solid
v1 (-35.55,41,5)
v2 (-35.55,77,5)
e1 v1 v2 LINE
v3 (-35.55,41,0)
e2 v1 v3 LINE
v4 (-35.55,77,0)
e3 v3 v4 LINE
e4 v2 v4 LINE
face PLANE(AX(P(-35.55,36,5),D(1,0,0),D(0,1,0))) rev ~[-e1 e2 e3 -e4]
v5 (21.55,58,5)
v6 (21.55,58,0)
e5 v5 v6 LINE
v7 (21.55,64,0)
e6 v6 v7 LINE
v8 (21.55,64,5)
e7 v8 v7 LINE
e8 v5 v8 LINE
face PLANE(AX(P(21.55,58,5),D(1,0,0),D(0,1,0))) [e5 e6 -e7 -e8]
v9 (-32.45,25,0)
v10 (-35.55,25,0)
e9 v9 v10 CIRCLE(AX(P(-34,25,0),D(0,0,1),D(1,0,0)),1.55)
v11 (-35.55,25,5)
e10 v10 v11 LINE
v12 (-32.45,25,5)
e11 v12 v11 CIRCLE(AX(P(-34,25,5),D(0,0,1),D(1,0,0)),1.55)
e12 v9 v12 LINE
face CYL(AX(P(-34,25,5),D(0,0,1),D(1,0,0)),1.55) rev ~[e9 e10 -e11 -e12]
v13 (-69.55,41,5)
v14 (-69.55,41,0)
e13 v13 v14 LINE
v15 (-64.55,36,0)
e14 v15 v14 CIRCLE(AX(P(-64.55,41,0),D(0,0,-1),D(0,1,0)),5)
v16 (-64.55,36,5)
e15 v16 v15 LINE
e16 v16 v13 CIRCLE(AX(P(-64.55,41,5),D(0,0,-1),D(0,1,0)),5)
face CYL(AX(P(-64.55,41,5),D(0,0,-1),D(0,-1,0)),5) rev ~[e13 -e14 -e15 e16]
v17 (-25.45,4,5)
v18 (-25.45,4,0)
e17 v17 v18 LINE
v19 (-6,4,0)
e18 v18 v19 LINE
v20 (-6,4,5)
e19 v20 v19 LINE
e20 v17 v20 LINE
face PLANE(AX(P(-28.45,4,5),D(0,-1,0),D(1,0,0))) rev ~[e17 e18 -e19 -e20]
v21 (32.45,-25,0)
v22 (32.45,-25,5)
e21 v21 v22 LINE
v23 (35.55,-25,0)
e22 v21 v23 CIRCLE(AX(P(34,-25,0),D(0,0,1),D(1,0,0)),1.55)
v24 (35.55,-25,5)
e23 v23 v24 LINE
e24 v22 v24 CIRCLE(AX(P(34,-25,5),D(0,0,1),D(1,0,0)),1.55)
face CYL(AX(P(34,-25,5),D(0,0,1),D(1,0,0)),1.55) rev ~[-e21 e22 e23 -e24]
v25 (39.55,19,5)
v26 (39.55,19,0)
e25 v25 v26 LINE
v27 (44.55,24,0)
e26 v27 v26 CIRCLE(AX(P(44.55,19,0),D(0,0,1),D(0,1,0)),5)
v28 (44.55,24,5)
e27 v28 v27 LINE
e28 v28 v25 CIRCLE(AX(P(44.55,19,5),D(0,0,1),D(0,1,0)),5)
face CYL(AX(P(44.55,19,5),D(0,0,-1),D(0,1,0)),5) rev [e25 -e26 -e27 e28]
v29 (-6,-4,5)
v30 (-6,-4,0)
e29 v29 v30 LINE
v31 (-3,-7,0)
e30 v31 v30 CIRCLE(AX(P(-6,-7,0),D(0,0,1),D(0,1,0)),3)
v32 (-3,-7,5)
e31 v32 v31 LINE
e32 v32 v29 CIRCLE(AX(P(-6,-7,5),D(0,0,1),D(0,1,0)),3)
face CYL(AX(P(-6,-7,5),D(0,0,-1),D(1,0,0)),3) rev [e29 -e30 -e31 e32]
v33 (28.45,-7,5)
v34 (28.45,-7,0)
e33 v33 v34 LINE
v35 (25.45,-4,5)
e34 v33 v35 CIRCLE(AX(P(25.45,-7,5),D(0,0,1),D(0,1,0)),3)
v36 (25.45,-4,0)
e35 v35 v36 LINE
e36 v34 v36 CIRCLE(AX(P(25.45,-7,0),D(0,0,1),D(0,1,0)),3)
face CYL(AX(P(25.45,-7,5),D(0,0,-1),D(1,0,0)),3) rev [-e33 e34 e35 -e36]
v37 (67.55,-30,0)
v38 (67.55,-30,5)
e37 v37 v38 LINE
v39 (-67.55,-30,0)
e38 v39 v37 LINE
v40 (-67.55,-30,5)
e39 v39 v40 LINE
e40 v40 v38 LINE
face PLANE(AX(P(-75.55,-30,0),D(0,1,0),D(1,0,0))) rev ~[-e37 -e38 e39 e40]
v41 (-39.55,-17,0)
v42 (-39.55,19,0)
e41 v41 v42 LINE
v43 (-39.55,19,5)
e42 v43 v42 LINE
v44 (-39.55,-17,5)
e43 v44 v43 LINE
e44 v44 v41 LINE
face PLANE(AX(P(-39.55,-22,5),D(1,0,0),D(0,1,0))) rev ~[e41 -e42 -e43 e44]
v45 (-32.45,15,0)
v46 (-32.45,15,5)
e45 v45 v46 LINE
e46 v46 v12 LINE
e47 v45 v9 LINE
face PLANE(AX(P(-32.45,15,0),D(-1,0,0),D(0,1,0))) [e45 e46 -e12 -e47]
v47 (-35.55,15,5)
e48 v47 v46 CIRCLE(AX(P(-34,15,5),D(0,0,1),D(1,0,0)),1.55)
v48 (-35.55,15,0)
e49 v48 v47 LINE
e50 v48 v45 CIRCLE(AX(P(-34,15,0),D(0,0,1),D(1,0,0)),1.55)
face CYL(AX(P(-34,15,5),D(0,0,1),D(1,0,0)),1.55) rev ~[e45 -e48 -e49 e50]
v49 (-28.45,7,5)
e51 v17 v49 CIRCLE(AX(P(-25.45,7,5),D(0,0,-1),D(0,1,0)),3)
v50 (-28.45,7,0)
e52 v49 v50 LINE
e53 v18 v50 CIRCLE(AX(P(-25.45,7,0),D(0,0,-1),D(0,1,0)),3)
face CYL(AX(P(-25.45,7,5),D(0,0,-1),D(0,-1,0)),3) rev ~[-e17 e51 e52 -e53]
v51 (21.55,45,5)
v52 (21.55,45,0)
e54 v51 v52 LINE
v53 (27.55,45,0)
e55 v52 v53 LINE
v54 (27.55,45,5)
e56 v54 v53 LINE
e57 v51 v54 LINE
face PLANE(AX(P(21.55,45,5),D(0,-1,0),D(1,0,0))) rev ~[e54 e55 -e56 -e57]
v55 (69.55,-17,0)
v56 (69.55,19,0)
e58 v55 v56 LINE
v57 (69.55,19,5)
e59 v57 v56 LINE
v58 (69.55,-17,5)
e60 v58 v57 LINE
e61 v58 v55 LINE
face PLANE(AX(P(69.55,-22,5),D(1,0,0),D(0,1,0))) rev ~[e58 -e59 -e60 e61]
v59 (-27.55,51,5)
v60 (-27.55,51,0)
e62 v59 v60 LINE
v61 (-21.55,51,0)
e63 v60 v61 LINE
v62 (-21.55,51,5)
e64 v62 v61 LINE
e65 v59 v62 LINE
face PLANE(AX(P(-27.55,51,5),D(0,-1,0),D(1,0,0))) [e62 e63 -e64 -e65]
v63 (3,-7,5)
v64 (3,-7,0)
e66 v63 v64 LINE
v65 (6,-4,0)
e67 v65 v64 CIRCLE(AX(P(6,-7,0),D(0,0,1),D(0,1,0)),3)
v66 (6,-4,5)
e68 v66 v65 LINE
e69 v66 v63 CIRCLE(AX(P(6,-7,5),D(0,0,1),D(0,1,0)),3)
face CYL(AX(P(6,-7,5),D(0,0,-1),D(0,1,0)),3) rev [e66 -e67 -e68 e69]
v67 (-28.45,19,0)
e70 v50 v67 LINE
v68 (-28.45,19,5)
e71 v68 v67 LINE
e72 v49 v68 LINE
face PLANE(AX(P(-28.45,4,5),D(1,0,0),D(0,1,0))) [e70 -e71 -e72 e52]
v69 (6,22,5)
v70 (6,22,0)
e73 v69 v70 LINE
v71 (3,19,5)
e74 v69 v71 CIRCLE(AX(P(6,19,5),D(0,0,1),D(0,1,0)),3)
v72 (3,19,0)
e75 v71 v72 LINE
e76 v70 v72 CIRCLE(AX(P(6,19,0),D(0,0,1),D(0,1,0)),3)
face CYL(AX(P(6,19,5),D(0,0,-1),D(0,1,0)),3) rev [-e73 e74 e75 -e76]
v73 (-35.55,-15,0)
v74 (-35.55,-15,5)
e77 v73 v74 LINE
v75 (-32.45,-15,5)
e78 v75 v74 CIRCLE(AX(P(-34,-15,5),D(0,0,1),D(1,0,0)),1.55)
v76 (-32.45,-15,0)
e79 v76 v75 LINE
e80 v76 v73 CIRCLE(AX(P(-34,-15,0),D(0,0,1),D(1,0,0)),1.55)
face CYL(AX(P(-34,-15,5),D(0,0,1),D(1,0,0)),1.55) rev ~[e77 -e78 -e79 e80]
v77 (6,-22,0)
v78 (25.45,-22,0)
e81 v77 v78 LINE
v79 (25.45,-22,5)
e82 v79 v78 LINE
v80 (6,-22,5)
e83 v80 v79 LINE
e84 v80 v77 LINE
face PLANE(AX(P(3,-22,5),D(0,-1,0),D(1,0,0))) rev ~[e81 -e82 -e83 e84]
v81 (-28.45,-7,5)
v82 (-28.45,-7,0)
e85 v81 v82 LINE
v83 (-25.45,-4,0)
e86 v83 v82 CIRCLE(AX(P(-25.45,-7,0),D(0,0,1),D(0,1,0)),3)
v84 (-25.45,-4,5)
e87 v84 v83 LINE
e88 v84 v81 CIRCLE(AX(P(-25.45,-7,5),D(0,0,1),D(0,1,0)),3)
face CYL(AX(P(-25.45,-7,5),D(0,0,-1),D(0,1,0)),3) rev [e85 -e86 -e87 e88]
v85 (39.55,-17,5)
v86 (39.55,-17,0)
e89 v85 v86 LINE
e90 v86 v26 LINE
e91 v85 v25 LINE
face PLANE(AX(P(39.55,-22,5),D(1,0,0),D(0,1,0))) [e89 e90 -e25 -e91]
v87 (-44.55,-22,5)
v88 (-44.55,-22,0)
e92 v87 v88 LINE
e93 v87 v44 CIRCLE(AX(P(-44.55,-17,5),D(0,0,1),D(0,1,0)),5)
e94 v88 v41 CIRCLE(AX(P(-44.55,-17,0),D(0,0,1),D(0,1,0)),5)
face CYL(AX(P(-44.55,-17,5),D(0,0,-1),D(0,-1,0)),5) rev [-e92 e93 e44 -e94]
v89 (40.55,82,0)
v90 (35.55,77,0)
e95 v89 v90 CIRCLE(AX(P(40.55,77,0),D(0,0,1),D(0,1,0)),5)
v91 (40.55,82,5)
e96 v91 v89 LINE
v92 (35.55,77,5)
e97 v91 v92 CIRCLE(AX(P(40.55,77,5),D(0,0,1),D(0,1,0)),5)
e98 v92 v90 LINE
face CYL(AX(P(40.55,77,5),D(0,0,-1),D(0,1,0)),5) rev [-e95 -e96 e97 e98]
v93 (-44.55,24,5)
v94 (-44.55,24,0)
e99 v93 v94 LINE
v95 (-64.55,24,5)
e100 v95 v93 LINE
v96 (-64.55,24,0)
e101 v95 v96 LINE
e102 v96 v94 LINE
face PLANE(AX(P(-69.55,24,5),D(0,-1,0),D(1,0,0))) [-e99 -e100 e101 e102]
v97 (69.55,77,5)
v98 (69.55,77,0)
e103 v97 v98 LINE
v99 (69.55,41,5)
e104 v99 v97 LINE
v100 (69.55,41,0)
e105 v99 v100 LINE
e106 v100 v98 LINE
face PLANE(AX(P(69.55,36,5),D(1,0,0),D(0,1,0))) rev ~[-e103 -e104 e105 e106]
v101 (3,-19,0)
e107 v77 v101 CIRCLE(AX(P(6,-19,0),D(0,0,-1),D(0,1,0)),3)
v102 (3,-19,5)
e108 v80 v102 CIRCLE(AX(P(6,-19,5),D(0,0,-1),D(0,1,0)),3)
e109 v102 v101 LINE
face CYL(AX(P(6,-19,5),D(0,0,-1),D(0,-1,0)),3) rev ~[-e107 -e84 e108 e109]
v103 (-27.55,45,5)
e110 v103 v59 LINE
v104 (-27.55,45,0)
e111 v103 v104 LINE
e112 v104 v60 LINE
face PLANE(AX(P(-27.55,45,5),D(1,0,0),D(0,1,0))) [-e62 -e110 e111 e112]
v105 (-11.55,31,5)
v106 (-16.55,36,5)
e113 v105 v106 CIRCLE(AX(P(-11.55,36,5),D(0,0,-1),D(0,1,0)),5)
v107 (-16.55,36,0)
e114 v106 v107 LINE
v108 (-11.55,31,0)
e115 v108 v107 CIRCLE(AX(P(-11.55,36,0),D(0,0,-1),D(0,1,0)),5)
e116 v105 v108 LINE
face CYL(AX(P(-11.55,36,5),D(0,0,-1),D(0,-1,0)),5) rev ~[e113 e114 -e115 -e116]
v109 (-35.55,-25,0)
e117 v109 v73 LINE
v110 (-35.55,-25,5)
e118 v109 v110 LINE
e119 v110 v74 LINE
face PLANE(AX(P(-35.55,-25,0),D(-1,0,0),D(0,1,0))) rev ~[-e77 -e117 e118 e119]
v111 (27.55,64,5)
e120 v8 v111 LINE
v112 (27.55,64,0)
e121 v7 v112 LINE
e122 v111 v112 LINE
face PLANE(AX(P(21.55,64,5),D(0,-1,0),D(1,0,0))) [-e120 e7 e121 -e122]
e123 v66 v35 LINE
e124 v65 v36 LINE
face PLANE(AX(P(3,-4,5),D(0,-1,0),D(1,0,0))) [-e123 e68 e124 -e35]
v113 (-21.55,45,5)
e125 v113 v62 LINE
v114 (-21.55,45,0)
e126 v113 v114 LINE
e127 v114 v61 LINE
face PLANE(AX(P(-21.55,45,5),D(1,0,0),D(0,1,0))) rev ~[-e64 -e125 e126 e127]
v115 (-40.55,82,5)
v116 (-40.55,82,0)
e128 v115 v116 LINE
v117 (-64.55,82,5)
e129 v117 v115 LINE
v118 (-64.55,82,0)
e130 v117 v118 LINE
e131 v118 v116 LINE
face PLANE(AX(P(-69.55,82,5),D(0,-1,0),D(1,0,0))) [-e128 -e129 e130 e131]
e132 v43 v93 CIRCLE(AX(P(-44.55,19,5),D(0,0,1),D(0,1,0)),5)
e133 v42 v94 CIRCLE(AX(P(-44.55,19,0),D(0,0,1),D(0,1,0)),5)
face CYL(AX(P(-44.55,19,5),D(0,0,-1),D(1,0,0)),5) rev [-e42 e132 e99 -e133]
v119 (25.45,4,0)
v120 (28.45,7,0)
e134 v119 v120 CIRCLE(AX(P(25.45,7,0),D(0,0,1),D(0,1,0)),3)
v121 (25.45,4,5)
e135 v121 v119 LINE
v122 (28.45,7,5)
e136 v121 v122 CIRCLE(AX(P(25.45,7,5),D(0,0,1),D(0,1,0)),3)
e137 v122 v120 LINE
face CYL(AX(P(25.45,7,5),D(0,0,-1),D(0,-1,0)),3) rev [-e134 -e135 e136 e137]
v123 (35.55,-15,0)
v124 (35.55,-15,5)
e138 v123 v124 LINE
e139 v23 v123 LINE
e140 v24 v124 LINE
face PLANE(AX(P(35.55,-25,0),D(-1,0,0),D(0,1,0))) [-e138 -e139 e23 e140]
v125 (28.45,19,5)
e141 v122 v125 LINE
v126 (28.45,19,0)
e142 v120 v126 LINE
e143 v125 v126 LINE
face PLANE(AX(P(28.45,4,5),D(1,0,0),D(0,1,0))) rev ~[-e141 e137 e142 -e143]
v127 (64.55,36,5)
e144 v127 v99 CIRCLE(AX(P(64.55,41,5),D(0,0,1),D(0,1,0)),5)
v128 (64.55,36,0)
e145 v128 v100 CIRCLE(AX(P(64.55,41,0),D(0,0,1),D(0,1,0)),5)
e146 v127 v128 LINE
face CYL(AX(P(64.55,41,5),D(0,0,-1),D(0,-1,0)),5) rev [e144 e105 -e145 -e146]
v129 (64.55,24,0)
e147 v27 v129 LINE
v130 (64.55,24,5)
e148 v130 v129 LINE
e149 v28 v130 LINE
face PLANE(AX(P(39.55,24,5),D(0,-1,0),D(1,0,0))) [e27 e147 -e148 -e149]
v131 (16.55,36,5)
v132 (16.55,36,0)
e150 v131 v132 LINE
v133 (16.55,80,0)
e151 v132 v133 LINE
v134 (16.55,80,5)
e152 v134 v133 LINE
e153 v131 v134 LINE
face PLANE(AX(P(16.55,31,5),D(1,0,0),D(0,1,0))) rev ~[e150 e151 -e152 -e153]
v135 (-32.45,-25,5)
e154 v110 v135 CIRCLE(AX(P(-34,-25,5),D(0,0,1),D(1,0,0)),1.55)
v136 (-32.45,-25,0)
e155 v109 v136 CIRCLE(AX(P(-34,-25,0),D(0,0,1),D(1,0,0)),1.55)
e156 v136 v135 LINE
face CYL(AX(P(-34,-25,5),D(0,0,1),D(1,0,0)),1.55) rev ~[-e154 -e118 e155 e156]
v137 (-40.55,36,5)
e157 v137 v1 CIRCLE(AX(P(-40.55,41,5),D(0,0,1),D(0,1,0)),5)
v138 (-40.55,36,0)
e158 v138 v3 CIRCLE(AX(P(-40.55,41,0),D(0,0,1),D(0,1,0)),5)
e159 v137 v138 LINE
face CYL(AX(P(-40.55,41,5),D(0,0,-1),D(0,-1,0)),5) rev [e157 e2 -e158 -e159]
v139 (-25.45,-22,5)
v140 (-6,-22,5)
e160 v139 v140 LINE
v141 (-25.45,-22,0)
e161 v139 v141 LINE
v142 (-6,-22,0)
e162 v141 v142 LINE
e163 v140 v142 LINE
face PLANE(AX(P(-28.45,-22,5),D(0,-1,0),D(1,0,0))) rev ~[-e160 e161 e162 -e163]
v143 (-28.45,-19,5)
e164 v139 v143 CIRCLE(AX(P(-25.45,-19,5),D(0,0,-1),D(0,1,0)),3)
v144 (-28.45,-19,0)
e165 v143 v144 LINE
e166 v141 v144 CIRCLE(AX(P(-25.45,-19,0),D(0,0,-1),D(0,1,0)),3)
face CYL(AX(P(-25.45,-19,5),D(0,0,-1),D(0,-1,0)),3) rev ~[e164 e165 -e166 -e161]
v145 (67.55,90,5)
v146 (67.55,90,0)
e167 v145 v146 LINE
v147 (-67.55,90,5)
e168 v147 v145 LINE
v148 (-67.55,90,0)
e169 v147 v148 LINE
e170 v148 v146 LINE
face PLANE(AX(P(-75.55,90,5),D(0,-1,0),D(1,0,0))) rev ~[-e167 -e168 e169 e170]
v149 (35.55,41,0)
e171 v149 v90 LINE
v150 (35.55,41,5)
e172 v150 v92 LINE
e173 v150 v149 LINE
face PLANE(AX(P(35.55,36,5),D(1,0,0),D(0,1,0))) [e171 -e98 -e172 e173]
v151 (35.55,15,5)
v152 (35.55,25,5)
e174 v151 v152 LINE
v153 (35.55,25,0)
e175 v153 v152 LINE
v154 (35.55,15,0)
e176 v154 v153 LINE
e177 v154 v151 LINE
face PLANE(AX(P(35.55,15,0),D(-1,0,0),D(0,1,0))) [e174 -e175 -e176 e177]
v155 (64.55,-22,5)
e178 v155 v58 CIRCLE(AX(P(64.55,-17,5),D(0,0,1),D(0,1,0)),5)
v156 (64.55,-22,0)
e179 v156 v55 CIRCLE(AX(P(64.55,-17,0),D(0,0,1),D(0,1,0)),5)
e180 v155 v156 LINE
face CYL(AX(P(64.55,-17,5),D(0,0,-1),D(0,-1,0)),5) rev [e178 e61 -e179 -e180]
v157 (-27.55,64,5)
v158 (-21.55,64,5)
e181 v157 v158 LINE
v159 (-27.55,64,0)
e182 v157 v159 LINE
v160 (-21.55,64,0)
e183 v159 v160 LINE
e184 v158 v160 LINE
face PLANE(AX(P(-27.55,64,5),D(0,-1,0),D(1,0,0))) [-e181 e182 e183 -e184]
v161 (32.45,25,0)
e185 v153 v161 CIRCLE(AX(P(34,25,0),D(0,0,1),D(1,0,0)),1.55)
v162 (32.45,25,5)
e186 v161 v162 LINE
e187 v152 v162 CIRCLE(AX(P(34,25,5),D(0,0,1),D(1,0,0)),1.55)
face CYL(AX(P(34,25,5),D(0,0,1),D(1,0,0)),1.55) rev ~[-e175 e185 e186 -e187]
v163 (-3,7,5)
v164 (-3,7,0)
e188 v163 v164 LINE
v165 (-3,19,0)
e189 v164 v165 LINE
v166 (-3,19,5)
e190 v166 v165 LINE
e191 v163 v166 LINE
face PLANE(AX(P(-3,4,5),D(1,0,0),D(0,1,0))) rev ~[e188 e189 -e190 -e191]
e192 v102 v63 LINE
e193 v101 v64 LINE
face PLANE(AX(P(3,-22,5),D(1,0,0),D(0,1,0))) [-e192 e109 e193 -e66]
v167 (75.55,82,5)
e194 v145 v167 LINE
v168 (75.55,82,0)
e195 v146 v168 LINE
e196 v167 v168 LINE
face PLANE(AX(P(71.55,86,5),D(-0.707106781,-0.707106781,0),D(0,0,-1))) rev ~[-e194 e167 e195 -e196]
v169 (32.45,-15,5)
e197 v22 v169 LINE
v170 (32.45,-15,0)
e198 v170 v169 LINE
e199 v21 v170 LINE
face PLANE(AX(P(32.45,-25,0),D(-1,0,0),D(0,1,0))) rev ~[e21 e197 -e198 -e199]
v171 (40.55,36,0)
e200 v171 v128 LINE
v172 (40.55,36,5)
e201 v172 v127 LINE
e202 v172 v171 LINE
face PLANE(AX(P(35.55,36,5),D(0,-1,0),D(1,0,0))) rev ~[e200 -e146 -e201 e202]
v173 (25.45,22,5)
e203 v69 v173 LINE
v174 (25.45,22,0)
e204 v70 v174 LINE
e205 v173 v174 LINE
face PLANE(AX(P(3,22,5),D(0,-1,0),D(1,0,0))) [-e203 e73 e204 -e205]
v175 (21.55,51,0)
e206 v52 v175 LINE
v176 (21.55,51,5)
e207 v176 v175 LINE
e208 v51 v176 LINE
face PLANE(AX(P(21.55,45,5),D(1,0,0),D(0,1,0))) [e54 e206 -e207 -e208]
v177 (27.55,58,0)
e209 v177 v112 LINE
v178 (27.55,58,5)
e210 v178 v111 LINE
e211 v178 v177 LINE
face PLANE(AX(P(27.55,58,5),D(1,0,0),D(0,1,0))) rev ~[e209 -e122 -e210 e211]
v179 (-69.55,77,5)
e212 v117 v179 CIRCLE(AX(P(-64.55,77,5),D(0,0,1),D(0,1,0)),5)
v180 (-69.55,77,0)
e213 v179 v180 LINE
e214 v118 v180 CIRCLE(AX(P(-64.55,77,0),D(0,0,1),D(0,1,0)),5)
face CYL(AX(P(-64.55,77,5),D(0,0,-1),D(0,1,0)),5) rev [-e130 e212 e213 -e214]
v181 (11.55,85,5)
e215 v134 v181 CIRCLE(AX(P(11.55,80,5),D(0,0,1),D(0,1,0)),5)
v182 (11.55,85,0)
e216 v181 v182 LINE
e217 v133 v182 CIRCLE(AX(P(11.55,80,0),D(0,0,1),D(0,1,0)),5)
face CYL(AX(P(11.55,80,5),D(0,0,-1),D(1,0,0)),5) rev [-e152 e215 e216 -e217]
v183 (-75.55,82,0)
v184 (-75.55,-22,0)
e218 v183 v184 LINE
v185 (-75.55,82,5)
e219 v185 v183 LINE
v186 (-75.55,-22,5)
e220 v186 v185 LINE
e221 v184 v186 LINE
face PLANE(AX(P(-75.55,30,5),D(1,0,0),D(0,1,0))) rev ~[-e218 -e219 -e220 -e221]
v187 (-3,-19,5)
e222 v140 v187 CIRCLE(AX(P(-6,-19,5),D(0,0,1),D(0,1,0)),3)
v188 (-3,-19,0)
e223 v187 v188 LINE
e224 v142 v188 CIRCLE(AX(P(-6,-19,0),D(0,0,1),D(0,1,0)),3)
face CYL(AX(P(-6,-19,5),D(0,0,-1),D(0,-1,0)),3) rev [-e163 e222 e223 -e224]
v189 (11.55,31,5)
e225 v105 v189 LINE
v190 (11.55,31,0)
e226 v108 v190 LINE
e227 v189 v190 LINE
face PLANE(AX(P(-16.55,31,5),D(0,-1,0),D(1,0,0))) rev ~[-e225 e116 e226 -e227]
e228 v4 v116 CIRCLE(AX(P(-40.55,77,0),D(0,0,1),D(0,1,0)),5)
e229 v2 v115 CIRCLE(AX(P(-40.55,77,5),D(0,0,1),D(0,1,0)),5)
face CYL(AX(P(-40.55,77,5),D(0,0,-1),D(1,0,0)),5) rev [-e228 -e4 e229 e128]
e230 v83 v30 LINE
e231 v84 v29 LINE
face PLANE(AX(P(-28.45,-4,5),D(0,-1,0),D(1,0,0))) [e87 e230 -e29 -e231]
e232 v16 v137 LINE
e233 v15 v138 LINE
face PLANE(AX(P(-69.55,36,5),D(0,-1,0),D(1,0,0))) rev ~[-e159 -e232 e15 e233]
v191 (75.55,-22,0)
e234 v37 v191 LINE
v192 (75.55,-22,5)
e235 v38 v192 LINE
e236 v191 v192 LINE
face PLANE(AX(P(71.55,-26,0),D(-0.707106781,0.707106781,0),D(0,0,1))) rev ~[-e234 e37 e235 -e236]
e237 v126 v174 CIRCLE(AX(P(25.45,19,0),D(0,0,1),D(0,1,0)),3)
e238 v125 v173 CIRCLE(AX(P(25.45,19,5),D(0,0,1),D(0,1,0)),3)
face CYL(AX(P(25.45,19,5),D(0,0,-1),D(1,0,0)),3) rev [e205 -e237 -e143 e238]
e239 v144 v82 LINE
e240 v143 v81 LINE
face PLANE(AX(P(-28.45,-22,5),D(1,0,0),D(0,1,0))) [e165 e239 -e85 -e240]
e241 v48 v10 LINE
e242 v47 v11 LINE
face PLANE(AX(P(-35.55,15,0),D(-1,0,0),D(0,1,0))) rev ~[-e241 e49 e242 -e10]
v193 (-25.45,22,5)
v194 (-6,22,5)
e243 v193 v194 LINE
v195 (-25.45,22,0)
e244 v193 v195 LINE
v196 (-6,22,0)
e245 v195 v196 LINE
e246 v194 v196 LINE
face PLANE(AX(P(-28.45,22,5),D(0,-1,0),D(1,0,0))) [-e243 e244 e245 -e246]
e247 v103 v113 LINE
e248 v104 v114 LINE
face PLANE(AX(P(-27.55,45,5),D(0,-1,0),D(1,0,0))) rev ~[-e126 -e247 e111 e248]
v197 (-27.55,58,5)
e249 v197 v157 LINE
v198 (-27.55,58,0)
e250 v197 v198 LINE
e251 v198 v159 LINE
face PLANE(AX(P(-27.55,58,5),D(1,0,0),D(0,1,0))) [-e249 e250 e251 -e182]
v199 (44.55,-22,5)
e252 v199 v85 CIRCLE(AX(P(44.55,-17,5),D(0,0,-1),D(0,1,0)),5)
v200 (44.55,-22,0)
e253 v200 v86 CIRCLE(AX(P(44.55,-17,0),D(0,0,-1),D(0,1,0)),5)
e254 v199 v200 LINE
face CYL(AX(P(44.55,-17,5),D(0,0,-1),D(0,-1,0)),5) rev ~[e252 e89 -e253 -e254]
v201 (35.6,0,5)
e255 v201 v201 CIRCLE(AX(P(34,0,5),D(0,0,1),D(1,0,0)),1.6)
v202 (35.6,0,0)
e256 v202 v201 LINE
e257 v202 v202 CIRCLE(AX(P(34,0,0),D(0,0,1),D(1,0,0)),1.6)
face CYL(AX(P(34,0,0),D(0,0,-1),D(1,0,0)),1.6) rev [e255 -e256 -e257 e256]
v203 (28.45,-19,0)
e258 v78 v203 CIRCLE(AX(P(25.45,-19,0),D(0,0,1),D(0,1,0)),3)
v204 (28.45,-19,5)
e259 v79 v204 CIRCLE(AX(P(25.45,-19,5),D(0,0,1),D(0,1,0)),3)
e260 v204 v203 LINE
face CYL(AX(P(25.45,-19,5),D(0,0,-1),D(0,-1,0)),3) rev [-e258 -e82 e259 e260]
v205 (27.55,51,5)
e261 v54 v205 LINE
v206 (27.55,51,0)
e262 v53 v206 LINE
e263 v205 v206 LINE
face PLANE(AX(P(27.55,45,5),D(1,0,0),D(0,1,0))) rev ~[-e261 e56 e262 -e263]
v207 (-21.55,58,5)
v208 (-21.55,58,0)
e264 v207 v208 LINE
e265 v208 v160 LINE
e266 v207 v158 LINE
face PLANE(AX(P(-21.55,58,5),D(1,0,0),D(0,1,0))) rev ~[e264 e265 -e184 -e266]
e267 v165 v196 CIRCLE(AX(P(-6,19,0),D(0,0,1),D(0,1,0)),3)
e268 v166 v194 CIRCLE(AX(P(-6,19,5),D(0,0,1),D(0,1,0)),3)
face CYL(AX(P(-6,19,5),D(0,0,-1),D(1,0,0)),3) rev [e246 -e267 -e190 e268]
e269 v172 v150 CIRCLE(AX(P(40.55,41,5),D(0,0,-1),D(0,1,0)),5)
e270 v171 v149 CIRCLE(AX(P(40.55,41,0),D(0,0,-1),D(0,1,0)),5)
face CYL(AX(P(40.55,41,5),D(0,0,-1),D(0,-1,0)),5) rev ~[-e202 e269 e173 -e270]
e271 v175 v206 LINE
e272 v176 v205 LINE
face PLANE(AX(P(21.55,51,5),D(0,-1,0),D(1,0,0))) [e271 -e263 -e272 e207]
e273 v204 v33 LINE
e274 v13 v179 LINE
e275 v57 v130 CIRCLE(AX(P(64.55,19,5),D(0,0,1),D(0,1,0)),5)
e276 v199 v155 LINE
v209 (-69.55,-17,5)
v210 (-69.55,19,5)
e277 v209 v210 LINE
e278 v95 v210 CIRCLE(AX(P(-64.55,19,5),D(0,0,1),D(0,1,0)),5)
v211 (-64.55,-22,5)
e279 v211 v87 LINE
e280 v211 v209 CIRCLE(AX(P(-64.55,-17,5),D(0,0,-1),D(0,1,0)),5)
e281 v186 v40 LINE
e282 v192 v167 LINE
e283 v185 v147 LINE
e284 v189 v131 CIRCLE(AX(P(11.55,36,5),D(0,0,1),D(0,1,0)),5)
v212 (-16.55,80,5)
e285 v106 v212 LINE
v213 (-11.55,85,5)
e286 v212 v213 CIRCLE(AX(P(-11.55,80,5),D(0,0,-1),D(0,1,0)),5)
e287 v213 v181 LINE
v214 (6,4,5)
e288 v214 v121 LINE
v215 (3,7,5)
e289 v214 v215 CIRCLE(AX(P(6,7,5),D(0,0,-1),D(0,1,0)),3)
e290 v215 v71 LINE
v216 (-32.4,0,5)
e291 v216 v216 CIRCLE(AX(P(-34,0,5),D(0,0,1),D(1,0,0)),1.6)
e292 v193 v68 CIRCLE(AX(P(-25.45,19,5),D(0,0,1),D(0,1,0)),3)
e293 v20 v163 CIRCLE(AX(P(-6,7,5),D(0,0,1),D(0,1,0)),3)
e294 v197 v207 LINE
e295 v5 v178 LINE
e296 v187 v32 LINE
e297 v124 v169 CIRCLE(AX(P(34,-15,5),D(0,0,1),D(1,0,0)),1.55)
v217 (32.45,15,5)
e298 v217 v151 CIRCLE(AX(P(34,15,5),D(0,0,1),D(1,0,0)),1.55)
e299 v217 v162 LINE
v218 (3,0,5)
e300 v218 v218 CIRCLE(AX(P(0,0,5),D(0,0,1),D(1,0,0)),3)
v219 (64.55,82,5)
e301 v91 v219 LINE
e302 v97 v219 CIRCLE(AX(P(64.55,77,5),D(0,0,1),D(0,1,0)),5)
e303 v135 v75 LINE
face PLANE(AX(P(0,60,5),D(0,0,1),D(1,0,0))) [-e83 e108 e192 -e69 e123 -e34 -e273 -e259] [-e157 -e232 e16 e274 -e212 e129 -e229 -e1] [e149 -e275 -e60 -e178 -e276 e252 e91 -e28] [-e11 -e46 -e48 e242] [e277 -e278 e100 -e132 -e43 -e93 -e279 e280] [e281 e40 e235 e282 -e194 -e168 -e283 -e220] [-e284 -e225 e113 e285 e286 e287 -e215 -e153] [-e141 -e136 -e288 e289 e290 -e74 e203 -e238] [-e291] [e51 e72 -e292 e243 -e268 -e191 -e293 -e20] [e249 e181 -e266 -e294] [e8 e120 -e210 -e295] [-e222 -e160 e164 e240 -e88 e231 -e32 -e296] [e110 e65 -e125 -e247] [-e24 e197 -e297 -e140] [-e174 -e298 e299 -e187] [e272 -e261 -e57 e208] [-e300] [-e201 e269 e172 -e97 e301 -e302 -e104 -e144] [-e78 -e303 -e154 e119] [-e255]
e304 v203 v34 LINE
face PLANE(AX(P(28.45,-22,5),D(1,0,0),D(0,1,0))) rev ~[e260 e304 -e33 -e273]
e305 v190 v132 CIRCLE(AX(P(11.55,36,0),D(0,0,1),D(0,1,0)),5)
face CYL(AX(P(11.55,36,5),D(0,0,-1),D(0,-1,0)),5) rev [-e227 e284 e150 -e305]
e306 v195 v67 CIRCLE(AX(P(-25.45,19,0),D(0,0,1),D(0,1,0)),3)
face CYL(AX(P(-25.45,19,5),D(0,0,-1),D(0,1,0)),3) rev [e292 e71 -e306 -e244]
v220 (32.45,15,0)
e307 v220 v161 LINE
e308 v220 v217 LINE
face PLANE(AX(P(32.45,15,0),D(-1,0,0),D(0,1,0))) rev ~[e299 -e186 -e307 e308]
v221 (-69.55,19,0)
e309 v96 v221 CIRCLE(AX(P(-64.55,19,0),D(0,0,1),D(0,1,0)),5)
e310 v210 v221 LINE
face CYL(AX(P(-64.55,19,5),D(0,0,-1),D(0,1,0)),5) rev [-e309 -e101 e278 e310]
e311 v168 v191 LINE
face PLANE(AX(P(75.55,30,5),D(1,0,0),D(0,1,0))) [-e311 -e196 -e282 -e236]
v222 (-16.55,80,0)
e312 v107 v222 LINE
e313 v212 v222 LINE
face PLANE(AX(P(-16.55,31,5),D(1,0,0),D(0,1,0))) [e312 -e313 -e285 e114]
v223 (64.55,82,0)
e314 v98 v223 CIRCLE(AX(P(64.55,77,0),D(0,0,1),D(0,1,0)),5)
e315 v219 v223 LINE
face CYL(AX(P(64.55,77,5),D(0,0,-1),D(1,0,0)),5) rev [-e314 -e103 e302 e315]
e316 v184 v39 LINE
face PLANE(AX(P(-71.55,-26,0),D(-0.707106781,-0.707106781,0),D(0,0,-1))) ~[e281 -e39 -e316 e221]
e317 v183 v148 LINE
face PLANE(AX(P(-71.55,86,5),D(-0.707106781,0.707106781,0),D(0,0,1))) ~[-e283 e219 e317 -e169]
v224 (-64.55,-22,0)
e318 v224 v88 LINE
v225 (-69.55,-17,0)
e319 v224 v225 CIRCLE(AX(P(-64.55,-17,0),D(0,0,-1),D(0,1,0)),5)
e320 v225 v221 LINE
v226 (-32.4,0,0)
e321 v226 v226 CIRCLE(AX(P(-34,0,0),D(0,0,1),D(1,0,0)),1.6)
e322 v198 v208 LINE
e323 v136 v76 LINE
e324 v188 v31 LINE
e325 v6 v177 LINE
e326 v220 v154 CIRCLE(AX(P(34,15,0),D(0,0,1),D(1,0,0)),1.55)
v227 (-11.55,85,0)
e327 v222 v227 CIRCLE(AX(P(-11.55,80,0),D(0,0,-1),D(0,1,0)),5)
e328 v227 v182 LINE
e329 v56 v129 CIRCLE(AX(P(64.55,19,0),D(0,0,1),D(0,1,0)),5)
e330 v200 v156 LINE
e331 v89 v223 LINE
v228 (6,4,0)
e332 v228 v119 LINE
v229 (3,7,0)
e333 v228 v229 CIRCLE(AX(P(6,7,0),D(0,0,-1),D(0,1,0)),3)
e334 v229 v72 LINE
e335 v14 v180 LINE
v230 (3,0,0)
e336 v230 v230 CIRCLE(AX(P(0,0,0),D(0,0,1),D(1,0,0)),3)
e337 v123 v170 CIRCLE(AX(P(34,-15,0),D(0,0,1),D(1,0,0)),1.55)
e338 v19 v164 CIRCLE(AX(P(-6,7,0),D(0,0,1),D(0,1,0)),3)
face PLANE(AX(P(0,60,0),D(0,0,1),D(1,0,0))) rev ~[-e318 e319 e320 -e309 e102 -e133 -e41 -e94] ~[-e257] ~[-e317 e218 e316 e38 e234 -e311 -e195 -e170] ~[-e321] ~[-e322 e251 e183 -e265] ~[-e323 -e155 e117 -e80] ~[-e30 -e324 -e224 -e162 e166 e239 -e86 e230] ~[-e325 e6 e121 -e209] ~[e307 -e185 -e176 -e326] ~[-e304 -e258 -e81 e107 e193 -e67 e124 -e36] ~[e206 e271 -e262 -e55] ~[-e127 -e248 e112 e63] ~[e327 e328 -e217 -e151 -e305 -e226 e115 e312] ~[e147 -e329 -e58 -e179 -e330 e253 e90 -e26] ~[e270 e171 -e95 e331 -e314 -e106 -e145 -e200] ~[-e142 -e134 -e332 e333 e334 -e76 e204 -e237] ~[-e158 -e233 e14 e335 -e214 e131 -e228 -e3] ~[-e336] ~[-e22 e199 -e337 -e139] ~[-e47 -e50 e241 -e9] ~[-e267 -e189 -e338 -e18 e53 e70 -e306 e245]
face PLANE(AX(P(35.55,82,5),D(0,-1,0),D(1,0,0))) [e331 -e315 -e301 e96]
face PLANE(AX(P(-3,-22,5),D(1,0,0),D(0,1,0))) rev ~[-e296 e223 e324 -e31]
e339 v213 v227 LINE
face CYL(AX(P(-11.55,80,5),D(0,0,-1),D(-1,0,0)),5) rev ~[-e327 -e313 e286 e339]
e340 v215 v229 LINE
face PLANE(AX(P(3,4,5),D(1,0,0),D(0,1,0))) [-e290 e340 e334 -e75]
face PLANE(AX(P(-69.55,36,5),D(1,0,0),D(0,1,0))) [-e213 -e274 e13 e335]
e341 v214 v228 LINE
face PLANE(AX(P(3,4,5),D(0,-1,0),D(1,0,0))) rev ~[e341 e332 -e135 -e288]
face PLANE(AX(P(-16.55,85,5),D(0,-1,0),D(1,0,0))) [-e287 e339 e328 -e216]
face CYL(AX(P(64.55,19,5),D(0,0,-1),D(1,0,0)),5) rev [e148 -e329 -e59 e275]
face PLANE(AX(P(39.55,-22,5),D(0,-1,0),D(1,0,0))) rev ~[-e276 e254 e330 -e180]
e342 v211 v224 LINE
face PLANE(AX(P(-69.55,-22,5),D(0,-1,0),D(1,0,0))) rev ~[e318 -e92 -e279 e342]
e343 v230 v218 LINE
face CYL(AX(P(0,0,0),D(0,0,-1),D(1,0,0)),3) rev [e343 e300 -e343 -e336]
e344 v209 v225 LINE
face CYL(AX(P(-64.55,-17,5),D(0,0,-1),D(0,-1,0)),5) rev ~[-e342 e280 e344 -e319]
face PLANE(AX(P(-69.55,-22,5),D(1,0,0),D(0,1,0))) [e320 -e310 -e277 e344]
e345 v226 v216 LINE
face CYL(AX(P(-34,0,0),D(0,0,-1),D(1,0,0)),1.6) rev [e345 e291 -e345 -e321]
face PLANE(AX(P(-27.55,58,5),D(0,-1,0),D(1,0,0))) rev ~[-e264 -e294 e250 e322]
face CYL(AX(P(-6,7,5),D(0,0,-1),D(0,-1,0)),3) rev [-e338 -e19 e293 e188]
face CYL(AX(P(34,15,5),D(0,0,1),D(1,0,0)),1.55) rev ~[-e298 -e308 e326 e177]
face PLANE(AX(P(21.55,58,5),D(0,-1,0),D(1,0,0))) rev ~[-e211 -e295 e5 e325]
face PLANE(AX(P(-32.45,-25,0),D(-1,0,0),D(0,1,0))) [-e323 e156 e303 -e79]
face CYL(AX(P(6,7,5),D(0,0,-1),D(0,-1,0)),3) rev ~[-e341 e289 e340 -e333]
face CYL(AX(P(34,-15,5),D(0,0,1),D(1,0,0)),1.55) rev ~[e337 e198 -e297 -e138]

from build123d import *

# Parameters (mm, degrees)
SKETCH_1_W          = 151.1
SKETCH_1_H          = 60
SKETCH_1_R          = 3
SKETCH_1_R_2        = 1.6
SKETCH_1_W_2        = 3.1
SKETCH_1_H_2        = 10
EXTRUDE_1_DEPTH     = 5
SKETCH_2_R          = 1.55
SKETCH_2_W          = 25.45
SKETCH_2_H          = 18
CUT_EXTRUDE_1_DEPTH = 82.442019253
FILLET_1_R          = 3
SKETCH_3_W          = 151.1
SKETCH_3_H          = 60
SKETCH_3_W_2        = 6
SKETCH_3_H_2        = 6
SKETCH_3_W_3        = 33.1
SKETCH_3_H_3        = 54
EXTRUDE_2_DEPTH     = 5
SKETCH_4_W          = 34
SKETCH_4_H          = 46
SKETCH_4_W_2        = 30
CUT_EXTRUDE_2_DEPTH = 118.612935088
FILLET_2_R          = 5
CHAMFER_1_SIZE      = 8


with BuildPart() as part:
    # 草图1 → 凸台-拉伸1 (new body)
    with BuildSketch(Plane.XY):
        Rectangle(SKETCH_1_W, SKETCH_1_H)
        Circle(SKETCH_1_R, mode=Mode.SUBTRACT)
        with Locations((34, 0)):
            Circle(SKETCH_1_R_2, mode=Mode.SUBTRACT)
        with Locations((-34, 0)):
            Circle(SKETCH_1_R_2, mode=Mode.SUBTRACT)
        with Locations((34, -20)):
            Rectangle(SKETCH_1_W_2, SKETCH_1_H_2, mode=Mode.SUBTRACT)
        with Locations((-34, 20)):
            Rectangle(SKETCH_1_W_2, SKETCH_1_H_2, mode=Mode.SUBTRACT)
        with Locations((-34, -20)):
            Rectangle(SKETCH_1_W_2, SKETCH_1_H_2, mode=Mode.SUBTRACT)
        with Locations((34, 20)):
            Rectangle(SKETCH_1_W_2, SKETCH_1_H_2, mode=Mode.SUBTRACT)
    extrude(amount=EXTRUDE_1_DEPTH)

    # 草图2 → 切除-拉伸1 (cut, through all)
    with BuildSketch(Plane.XY.offset(5)):
        with Locations((-34, 25)):
            Circle(SKETCH_2_R)
        with Locations((-34, 15)):
            Circle(SKETCH_2_R)
        with Locations((34, 25)):
            Circle(SKETCH_2_R)
        with Locations((34, 15)):
            Circle(SKETCH_2_R)
        with Locations((34, -15)):
            Circle(SKETCH_2_R)
        with Locations((34, -25)):
            Circle(SKETCH_2_R)
        with Locations((-34, -15)):
            Circle(SKETCH_2_R)
        with Locations((-34, -25)):
            Circle(SKETCH_2_R)
        with Locations((-15.725, 13)):
            Rectangle(SKETCH_2_W, SKETCH_2_H)
        with Locations((15.725, 13)):
            Rectangle(SKETCH_2_W, SKETCH_2_H)
        with Locations((-15.725, -13)):
            Rectangle(SKETCH_2_W, SKETCH_2_H)
        with Locations((15.725, -13)):
            Rectangle(SKETCH_2_W, SKETCH_2_H)
    extrude(amount=-CUT_EXTRUDE_1_DEPTH, mode=Mode.SUBTRACT)

    # 圆角1
    fillet_1_edges = [part.edges().sort_by_distance(p)[0] for p in [
        (28.45, 4, 2.5),
        (3, 4, 2.5),
        (3, 22, 2.5),
        (28.45, 22, 2.5),
        (-28.45, -22, 2.5),
        (-28.45, -4, 2.5),
        (-3, -4, 2.5),
        (-3, -22, 2.5),
        (28.45, -22, 2.5),
        (3, -22, 2.5),
        (3, -4, 2.5),
        (28.45, -4, 2.5),
        (-28.45, 4, 2.5),
        (-28.45, 22, 2.5),
        (-3, 22, 2.5),
        (-3, 4, 2.5),
    ]]
    fillet(fillet_1_edges, radius=FILLET_1_R)

    # 草图3 → 凸台-拉伸2 (add)
    with BuildSketch(Plane.XY.offset(5)):
        with Locations((0, 60)):
            Rectangle(SKETCH_3_W, SKETCH_3_H)
        with Locations((24.55, 48)):
            Rectangle(SKETCH_3_W_2, SKETCH_3_H_2, mode=Mode.SUBTRACT)
        with Locations((-24.55, 61)):
            Rectangle(SKETCH_3_W_2, SKETCH_3_H_2, mode=Mode.SUBTRACT)
        with Locations((-24.55, 48)):
            Rectangle(SKETCH_3_W_2, SKETCH_3_H_2, mode=Mode.SUBTRACT)
        with Locations((24.55, 61)):
            Rectangle(SKETCH_3_W_2, SKETCH_3_H_2, mode=Mode.SUBTRACT)
        with Locations((0, 58)):
            Rectangle(SKETCH_3_W_3, SKETCH_3_H_3, mode=Mode.SUBTRACT)
    extrude(amount=-EXTRUDE_2_DEPTH)

    # 草图4 → 切除-拉伸2 (cut, through all)
    with BuildSketch(Plane.XY.offset(5)):
        with Locations((-52.55, 59)):
            Rectangle(SKETCH_4_W, SKETCH_4_H)
        with Locations((-54.55, 1)):
            Rectangle(SKETCH_4_W_2, SKETCH_4_H)
        with Locations((54.55, 1)):
            Rectangle(SKETCH_4_W_2, SKETCH_4_H)
        with Locations((52.55, 59)):
            Rectangle(SKETCH_4_W, SKETCH_4_H)
    extrude(amount=-CUT_EXTRUDE_2_DEPTH, mode=Mode.SUBTRACT)

    # 圆角2
    fillet_2_edges = [part.edges().sort_by_distance(p)[0] for p in [
        (-16.55, 85, 2.5),
        (16.55, 85, 2.5),
        (16.55, 31, 2.5),
        (-16.55, 31, 2.5),
        (69.55, 82, 2.5),
        (69.55, 36, 2.5),
        (35.55, 36, 2.5),
        (35.55, 82, 2.5),
        (69.55, 24, 2.5),
        (69.55, -22, 2.5),
        (39.55, -22, 2.5),
        (39.55, 24, 2.5),
        (-69.55, -22, 2.5),
        (-69.55, 24, 2.5),
        (-39.55, 24, 2.5),
        (-39.55, -22, 2.5),
        (-69.55, 36, 2.5),
        (-69.55, 82, 2.5),
        (-35.55, 82, 2.5),
        (-35.55, 36, 2.5),
    ]]
    fillet(fillet_2_edges, radius=FILLET_2_R)

    # 倒角1
    chamfer_1_edges = [part.edges().sort_by_distance(p)[0] for p in [
        (-75.55, 90, 2.5),
        (75.55, 90, 2.5),
        (75.55, -30, 2.5),
        (-75.55, -30, 2.5),
    ]]
    chamfer(chamfer_1_edges, length=CHAMFER_1_SIZE)


solid = part.part
